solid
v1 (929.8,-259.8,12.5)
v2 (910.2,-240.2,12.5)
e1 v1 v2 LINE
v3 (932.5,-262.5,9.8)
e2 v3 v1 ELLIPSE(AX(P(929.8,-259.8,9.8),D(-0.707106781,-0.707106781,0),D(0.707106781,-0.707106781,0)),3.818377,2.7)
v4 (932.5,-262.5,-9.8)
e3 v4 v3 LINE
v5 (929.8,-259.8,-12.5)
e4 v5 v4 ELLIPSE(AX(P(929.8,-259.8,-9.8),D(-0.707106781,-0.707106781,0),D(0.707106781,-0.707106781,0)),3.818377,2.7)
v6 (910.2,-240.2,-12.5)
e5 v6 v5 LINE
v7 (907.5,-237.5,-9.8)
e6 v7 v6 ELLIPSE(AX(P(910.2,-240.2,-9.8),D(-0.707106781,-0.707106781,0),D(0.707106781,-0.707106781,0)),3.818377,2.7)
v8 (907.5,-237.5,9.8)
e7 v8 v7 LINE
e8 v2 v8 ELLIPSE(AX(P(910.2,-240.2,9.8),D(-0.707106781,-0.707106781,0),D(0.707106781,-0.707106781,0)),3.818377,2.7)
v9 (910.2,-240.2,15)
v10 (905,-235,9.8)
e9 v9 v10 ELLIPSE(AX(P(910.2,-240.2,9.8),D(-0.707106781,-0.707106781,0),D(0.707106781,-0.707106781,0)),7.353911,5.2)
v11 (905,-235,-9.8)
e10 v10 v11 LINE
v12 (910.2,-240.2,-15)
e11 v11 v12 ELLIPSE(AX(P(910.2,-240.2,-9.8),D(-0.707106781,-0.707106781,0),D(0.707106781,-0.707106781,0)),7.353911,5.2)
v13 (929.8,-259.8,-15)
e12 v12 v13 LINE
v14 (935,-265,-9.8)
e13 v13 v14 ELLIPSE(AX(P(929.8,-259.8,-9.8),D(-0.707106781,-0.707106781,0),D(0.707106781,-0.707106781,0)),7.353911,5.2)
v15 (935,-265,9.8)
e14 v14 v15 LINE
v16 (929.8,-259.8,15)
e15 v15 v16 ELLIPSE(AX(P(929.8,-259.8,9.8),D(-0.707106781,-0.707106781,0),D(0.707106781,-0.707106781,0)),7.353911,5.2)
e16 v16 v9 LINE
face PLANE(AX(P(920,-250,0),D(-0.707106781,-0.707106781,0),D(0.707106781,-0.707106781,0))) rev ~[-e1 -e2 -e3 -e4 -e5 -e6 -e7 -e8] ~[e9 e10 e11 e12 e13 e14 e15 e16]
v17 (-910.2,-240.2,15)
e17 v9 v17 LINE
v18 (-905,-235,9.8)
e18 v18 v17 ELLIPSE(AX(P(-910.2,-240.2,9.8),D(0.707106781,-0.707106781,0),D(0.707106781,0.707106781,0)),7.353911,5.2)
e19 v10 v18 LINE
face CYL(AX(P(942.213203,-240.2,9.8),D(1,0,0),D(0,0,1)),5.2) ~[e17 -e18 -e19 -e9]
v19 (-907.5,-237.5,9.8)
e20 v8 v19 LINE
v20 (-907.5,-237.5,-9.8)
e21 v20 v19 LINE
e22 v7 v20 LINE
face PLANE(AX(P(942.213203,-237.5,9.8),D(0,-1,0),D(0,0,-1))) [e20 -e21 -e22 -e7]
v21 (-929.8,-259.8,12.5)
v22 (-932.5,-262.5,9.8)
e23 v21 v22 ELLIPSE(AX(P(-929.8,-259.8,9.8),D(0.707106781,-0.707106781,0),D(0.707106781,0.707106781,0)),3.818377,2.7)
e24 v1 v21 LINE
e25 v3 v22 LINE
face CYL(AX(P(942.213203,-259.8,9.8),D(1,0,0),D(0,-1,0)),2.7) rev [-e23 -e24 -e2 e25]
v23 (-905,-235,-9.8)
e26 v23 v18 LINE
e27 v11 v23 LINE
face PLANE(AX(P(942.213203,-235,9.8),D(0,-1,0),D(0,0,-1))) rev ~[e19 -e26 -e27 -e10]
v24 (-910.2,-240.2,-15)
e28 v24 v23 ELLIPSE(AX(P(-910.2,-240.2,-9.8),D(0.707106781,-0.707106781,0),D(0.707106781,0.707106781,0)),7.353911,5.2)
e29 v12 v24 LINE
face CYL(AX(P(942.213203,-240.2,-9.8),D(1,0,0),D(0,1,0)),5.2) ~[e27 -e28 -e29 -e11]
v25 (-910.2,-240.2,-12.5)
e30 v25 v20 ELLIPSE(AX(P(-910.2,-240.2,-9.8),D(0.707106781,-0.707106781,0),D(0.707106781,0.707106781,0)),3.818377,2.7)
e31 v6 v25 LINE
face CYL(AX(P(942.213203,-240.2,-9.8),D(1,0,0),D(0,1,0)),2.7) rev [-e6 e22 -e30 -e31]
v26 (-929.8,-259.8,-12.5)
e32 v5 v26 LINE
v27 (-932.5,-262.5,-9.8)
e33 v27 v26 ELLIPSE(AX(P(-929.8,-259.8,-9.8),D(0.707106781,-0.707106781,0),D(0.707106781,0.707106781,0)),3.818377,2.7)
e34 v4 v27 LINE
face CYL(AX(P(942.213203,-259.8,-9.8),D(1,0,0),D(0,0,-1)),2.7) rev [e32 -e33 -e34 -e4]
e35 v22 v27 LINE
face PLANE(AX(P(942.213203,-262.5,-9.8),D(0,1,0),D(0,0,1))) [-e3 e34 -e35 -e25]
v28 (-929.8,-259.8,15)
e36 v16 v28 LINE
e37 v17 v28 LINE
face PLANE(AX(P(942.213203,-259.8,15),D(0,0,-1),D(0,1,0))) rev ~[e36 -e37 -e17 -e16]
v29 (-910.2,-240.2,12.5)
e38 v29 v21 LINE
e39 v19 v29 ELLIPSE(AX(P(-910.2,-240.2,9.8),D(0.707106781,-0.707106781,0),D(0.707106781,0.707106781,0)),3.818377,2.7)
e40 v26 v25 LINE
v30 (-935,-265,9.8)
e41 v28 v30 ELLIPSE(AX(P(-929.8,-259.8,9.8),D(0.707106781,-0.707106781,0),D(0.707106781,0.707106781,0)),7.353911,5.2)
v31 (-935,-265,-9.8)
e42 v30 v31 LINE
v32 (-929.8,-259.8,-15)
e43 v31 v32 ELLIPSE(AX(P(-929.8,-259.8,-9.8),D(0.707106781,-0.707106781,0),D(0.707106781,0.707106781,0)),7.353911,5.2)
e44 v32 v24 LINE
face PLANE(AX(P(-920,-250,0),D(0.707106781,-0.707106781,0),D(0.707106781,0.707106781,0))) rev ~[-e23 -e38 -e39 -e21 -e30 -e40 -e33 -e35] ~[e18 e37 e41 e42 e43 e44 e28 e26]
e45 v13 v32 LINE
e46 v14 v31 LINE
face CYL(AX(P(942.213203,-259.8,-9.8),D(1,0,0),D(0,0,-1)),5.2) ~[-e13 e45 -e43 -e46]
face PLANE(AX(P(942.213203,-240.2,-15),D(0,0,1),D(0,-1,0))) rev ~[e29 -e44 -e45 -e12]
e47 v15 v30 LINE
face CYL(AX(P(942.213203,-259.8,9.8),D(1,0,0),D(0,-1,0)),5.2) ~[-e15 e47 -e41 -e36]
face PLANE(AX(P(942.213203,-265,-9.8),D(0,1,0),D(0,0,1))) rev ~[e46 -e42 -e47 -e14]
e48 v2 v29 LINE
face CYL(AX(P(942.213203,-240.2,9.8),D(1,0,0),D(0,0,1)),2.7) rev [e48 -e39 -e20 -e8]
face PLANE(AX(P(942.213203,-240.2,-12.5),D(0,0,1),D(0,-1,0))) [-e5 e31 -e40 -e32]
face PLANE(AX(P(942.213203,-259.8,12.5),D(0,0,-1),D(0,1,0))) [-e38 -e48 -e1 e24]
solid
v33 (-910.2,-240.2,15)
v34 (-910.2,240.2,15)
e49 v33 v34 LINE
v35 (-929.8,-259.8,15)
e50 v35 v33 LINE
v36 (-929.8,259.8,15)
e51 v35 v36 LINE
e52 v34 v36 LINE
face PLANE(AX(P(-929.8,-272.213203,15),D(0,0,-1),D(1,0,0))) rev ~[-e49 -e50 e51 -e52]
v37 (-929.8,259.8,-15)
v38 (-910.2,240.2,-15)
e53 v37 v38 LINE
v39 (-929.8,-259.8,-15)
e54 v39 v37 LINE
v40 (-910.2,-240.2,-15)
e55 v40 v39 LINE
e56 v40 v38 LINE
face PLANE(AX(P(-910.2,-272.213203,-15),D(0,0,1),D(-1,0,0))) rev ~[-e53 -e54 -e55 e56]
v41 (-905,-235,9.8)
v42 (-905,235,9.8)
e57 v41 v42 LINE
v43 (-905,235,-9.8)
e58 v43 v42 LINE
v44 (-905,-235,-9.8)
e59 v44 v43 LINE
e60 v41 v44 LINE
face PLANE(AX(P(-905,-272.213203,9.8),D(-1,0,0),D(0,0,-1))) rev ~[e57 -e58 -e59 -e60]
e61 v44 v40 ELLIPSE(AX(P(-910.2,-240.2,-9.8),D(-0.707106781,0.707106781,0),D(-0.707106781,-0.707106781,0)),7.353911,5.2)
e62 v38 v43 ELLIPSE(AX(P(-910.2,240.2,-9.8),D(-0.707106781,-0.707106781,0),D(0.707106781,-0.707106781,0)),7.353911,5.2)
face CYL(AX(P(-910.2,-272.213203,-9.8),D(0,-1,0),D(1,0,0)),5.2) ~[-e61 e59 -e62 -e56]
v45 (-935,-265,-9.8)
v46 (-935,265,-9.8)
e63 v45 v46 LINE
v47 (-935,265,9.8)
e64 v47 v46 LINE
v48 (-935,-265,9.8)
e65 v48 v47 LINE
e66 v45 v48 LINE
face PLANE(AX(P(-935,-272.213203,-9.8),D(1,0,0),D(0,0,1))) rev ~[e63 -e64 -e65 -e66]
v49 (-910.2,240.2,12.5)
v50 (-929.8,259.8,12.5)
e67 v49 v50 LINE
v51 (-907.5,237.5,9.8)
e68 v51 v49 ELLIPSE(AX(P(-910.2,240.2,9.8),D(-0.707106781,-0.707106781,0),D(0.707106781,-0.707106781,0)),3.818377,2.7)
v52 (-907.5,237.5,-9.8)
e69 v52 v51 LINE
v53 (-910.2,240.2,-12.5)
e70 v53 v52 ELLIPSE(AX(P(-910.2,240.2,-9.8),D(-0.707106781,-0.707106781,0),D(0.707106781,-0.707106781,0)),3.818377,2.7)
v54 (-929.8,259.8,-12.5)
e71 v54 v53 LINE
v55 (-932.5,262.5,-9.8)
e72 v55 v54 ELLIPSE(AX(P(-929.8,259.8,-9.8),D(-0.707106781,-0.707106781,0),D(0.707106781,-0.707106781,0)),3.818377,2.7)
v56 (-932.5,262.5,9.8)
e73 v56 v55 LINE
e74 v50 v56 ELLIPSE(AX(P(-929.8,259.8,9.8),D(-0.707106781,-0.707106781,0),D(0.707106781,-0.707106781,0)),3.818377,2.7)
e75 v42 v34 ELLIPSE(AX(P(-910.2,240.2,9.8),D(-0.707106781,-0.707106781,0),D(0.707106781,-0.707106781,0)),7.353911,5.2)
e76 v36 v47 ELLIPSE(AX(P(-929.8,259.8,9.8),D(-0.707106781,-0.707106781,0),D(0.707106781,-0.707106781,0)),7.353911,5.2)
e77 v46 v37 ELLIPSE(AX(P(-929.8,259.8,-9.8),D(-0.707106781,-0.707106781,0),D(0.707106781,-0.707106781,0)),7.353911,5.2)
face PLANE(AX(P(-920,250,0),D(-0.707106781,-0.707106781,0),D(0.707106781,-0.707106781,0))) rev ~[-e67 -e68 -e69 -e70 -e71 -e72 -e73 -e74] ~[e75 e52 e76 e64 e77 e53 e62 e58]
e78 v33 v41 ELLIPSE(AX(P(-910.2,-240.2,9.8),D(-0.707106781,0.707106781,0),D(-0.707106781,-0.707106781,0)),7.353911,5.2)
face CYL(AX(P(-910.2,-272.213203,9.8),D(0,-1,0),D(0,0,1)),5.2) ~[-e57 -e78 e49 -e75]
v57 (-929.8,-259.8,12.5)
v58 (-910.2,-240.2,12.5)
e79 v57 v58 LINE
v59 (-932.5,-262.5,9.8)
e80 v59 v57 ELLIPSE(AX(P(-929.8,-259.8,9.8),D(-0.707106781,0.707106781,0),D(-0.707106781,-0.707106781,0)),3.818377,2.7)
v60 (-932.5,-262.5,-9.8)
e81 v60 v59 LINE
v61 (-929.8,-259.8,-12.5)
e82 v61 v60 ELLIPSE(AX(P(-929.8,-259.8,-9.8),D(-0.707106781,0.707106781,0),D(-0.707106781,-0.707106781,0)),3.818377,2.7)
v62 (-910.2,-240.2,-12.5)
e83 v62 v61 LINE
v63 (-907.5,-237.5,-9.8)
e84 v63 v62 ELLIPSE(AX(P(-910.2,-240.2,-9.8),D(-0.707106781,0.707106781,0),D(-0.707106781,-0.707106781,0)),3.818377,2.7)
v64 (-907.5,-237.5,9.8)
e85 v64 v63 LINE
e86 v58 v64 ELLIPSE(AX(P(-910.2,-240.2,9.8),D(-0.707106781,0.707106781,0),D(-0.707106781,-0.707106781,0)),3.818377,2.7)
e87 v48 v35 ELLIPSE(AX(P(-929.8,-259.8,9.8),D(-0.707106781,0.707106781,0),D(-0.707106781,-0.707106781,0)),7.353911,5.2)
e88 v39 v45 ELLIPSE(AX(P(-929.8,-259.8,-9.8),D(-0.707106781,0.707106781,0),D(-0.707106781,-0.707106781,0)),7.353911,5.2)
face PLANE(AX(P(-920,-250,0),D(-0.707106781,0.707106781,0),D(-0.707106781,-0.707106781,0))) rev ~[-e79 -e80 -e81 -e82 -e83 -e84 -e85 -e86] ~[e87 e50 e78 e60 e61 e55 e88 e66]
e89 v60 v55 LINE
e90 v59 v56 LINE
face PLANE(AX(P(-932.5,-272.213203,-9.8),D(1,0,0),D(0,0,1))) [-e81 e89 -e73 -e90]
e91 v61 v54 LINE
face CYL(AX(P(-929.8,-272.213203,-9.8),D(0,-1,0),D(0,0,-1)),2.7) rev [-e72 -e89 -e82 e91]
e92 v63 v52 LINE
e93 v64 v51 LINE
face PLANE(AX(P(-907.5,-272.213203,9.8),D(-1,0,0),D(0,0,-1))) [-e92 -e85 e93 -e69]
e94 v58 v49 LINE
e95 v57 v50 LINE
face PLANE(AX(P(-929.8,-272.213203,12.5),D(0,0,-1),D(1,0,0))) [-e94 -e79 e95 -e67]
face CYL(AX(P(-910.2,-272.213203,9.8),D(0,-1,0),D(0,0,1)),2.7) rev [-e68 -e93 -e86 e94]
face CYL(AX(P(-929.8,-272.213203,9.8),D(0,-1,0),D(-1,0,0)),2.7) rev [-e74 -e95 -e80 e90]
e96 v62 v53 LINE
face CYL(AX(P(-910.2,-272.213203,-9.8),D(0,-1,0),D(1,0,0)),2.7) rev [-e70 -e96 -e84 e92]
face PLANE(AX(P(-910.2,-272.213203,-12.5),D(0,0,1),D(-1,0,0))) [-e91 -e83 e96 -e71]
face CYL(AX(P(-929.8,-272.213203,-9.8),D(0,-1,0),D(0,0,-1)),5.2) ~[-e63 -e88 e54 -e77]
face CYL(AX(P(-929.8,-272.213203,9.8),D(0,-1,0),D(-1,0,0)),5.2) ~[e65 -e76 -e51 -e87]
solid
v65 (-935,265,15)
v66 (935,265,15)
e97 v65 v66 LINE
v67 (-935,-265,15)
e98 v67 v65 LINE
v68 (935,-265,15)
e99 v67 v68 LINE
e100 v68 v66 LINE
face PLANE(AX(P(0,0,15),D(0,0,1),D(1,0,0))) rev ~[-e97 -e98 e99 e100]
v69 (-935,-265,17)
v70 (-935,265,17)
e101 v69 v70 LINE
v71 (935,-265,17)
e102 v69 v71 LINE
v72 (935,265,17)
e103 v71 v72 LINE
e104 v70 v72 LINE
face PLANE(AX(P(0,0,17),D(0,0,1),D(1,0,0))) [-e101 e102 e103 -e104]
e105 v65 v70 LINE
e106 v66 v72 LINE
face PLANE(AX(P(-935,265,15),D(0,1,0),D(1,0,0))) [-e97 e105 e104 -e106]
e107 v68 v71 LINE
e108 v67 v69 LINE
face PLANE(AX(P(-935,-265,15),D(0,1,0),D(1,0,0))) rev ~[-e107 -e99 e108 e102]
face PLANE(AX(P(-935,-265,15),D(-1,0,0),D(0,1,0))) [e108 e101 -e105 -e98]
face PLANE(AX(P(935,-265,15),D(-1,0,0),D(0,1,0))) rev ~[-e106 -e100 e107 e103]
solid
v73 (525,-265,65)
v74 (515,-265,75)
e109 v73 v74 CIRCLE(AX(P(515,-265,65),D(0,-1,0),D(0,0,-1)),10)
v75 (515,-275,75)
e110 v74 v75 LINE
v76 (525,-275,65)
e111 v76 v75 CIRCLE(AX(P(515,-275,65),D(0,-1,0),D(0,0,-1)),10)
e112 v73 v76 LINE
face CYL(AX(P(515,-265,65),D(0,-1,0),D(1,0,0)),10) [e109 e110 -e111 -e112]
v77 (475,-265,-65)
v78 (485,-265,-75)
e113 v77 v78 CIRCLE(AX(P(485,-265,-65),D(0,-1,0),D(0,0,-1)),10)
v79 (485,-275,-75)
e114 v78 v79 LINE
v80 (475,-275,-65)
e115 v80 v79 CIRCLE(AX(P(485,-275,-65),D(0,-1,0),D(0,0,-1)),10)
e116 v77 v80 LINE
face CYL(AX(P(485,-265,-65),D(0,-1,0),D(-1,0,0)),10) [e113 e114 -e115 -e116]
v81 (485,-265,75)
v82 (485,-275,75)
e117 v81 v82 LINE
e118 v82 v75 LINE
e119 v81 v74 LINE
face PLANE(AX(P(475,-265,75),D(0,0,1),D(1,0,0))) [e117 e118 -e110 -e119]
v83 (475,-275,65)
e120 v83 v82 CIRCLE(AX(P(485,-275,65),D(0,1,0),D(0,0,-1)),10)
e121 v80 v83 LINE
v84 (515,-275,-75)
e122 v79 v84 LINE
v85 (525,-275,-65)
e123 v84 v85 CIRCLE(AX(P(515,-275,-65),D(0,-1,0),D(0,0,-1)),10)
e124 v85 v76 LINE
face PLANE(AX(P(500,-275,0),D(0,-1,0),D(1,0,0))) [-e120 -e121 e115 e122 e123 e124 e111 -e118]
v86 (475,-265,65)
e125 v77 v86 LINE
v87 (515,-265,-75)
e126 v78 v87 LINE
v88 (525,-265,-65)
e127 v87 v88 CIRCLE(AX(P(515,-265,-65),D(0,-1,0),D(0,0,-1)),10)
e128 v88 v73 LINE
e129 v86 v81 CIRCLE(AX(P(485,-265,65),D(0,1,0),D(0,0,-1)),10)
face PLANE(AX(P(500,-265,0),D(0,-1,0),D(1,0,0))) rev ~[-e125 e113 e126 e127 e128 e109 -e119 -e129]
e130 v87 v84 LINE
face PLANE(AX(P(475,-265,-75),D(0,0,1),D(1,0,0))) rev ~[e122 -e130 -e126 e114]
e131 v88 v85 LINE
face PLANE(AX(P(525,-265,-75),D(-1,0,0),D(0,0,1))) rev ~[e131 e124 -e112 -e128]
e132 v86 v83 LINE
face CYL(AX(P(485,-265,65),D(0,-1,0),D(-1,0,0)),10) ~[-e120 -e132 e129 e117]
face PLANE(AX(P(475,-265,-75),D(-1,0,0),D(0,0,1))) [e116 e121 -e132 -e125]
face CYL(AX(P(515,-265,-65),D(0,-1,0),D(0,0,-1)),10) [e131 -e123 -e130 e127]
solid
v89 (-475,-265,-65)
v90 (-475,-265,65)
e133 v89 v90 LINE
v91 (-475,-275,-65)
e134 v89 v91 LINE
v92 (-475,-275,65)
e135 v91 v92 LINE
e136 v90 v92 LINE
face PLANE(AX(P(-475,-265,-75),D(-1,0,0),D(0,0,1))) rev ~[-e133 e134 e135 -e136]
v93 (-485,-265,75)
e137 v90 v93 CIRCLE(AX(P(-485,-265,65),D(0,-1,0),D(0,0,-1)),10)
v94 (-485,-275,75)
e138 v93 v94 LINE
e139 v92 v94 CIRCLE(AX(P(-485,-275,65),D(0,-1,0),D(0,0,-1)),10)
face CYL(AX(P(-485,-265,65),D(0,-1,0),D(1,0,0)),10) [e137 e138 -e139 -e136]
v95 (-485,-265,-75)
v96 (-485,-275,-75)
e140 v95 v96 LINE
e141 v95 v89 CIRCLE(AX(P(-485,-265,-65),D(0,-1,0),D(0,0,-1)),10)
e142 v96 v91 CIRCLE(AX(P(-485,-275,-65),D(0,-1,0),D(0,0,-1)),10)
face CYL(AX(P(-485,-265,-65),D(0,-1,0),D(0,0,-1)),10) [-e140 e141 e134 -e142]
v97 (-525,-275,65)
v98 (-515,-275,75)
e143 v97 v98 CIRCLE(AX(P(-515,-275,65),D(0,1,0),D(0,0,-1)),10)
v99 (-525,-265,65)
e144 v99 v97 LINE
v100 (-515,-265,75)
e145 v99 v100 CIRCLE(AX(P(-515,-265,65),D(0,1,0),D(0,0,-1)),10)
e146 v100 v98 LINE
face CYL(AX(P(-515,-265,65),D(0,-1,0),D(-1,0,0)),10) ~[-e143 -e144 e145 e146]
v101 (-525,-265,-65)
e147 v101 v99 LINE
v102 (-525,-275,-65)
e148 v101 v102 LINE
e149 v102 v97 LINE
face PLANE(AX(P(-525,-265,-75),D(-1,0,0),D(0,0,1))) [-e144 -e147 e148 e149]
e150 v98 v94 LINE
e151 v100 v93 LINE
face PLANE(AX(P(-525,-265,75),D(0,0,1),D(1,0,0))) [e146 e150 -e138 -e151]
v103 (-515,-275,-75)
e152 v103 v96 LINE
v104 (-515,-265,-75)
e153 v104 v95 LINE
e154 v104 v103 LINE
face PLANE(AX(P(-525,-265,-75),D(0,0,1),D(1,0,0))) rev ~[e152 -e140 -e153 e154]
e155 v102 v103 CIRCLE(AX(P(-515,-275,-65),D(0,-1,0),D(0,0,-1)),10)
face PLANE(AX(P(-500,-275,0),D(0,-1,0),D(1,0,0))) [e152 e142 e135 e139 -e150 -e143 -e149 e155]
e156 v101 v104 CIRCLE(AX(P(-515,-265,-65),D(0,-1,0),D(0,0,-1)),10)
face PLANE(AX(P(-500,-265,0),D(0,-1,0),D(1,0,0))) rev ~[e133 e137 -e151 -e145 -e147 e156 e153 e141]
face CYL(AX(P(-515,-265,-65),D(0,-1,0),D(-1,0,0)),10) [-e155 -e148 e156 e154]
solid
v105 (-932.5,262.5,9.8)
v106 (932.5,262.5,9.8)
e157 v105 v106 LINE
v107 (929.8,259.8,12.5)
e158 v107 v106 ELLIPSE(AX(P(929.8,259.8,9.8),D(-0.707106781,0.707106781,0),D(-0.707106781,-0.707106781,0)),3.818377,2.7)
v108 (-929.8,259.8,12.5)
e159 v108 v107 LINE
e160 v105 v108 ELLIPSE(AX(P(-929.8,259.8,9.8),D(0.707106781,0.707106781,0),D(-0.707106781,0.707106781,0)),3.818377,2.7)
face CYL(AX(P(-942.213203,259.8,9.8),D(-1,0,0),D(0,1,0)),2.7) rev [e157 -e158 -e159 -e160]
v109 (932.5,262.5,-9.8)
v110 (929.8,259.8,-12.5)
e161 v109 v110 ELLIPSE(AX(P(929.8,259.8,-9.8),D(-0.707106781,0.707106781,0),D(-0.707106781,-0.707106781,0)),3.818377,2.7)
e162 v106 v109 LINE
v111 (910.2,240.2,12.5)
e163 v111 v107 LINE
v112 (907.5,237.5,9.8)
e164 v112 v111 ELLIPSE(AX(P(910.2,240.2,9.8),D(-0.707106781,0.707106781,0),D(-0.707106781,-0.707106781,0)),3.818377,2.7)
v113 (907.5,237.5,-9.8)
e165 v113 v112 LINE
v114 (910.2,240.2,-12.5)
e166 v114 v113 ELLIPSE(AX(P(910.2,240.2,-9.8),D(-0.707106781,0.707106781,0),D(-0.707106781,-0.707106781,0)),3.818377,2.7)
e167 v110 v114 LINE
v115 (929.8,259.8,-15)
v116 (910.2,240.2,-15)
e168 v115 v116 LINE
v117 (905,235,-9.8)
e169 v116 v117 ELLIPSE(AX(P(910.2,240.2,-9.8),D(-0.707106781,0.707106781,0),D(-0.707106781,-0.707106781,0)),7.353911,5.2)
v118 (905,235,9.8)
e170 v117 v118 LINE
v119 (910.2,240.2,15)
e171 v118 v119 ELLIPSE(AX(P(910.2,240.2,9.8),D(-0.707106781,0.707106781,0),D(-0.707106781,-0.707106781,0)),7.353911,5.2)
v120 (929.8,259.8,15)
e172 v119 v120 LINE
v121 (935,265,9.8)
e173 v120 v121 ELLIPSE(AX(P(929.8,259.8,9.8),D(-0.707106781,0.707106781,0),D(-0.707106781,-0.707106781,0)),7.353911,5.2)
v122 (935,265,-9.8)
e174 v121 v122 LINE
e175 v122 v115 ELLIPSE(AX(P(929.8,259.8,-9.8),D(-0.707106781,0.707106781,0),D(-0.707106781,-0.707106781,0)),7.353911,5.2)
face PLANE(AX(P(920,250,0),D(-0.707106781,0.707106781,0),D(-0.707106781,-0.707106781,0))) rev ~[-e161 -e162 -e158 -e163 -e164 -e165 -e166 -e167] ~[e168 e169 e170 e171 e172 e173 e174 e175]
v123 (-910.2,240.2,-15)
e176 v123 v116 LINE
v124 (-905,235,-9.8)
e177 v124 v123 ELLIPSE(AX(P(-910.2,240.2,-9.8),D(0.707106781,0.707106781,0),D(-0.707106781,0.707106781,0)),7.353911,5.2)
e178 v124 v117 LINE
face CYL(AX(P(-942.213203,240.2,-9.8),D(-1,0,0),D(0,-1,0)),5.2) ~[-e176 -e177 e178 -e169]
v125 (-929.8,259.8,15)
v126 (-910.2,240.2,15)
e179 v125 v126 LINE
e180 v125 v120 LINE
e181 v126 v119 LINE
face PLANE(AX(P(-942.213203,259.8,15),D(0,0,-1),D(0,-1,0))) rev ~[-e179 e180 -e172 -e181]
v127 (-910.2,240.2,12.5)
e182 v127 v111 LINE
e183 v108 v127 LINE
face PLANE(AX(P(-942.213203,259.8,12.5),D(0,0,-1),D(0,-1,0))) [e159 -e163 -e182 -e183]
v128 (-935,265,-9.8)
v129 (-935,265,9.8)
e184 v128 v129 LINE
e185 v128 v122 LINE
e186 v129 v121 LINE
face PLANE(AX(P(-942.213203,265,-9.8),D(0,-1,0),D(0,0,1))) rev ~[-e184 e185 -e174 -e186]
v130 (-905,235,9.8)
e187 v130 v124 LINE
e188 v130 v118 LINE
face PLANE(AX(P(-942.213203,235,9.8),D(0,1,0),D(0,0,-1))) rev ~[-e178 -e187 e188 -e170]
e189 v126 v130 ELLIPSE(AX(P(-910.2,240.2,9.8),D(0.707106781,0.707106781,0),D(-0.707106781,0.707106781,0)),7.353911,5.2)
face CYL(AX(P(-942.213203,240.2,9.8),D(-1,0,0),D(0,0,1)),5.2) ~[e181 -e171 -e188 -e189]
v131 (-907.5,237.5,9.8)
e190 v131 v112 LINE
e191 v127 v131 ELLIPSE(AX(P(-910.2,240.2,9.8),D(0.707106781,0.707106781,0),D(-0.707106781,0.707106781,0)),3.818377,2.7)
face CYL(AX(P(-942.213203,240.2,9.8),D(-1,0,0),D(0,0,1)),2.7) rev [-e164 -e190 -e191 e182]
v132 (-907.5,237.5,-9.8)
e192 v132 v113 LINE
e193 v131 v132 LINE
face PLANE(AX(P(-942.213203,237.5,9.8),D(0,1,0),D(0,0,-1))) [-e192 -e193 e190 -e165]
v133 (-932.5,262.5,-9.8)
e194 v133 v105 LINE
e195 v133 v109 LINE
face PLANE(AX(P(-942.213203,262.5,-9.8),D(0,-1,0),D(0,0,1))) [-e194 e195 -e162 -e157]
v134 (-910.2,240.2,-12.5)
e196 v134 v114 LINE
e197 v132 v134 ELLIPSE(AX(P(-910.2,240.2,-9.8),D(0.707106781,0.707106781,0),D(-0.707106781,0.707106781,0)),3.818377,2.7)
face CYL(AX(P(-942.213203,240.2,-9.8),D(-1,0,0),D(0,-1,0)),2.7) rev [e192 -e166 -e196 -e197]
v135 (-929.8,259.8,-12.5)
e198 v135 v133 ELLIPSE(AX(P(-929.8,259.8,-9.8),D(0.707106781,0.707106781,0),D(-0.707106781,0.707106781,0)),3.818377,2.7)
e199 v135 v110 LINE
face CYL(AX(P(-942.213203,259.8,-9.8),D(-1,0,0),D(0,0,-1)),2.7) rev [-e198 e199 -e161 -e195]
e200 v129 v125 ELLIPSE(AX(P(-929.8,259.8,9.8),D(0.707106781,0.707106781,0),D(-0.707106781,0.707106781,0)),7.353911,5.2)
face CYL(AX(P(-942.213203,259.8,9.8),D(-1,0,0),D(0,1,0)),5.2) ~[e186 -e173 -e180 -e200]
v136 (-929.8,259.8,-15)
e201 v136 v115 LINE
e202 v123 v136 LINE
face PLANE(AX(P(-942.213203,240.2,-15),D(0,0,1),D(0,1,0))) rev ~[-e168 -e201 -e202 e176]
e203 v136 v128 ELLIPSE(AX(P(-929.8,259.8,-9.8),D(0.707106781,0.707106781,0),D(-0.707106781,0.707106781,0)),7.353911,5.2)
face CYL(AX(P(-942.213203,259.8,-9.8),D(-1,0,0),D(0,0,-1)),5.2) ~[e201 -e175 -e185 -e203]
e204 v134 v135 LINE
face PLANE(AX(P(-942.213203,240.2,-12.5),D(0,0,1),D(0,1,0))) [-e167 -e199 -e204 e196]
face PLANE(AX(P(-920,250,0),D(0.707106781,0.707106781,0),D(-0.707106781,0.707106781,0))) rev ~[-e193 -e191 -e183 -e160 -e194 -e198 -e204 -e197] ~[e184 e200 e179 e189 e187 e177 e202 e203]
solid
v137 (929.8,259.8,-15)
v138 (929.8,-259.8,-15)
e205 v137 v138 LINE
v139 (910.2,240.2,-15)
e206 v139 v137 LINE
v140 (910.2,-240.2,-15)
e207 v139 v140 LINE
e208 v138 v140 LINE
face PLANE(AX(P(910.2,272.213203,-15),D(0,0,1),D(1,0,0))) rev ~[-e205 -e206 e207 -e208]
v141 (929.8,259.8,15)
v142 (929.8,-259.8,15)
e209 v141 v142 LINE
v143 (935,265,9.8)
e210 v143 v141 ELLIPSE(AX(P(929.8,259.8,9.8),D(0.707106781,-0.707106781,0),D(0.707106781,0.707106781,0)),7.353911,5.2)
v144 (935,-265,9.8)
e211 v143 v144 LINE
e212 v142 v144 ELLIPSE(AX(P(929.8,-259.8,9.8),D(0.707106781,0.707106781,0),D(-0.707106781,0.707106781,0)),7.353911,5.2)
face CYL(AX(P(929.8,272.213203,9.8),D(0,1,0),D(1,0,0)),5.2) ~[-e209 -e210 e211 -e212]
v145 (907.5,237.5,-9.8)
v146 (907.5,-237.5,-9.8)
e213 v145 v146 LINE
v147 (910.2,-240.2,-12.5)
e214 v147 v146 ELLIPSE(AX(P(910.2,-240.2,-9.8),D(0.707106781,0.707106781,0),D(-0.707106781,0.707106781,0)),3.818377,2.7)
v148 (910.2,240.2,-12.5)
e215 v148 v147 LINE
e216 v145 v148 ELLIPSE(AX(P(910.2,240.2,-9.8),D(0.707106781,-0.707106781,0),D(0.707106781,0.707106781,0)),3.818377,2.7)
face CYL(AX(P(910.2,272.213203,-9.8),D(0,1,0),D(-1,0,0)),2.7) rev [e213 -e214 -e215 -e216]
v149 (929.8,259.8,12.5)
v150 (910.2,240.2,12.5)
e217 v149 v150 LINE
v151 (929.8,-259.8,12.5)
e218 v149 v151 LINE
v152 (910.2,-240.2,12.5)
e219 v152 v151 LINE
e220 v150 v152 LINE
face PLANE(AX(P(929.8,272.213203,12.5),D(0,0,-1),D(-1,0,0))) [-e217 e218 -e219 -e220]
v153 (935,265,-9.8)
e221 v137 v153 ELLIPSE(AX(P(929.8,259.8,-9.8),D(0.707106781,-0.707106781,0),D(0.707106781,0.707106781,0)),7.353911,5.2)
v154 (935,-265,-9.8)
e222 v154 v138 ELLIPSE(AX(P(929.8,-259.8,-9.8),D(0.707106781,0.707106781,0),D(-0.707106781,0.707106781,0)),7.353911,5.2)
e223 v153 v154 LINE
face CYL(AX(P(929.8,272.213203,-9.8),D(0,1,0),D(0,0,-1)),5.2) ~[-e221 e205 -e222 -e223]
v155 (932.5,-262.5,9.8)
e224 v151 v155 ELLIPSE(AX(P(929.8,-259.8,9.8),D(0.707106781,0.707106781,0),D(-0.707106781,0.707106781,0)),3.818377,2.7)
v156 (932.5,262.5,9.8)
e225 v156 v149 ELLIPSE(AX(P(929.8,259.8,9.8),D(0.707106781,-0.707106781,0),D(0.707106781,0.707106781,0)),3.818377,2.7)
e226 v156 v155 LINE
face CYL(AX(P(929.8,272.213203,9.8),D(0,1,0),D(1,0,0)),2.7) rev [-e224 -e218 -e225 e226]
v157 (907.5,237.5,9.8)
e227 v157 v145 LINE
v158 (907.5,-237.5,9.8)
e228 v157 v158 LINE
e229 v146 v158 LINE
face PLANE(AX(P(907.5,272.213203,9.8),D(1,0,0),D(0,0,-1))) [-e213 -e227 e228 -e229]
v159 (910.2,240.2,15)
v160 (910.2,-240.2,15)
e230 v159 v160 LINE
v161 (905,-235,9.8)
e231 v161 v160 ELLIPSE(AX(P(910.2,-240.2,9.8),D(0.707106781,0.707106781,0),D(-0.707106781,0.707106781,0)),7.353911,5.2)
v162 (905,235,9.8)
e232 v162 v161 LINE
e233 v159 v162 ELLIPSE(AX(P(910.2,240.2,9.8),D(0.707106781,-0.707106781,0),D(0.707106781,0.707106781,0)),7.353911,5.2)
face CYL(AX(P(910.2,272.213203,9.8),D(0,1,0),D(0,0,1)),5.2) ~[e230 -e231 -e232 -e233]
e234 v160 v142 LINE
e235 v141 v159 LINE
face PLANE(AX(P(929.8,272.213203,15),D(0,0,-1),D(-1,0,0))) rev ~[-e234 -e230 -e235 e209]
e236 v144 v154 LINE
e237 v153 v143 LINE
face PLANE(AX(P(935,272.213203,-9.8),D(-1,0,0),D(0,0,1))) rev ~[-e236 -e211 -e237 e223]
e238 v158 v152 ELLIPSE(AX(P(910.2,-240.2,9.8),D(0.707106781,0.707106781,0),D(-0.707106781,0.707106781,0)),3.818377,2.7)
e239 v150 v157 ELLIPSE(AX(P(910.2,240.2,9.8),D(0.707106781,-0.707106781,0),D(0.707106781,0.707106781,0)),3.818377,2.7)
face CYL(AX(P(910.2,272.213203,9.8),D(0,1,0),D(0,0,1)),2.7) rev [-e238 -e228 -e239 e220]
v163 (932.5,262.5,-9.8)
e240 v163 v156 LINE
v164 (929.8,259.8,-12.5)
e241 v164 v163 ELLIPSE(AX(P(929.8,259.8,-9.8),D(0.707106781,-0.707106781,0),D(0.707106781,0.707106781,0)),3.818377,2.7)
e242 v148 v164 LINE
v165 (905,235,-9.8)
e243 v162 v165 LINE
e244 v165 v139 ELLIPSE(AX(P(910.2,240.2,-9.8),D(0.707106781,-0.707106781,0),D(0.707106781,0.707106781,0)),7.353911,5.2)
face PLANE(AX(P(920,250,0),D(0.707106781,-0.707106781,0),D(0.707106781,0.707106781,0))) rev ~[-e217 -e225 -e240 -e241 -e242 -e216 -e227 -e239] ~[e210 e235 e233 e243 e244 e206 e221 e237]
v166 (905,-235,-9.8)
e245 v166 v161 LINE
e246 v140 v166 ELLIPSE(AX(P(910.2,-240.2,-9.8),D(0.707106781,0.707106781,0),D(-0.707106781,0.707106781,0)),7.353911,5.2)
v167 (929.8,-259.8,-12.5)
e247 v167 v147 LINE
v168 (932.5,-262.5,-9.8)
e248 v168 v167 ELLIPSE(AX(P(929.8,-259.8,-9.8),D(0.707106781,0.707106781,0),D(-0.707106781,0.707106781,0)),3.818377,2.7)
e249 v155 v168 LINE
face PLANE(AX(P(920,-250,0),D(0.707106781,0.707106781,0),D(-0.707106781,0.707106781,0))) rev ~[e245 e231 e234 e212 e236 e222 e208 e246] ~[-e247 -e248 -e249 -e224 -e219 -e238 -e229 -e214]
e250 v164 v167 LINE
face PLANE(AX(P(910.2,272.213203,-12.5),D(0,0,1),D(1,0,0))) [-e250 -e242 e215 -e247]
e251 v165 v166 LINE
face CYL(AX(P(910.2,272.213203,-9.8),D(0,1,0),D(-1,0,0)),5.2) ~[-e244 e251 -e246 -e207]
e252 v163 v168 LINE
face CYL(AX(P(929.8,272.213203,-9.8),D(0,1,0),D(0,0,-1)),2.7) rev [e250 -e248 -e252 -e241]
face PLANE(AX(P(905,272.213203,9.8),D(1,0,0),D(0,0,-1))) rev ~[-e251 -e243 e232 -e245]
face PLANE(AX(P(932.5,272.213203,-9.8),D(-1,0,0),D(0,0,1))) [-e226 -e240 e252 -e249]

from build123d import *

# Parameters (mm, degrees)
MEMBER_1_DEPTH         = 522.213203436
MEMBER_1_DEPTH_BACK    = 22.213203436
MEMBER_1_2_DEPTH       = 1884.426406871
MEMBER_1_3_DEPTH       = 544.426406871
MEMBER_1_4_DEPTH       = 1884.426406871
SKETCH_3_W             = 1870
SKETCH_3_H             = 530
EXTRUDE_1_DEPTH        = 2
SKETCH_4_W             = 50
SKETCH_4_H             = 150
EXTRUDE_2_DEPTH        = 10
PATTERN_LINEAR_1_COUNT = 2
PATTERN_LINEAR_1_PITCH = 1000
FILLET_1_R             = 10
FILLET_2_R             = 10


with BuildPart() as part:
    # Sketch1 → Member 1 (new, two sides: drawn at the far end of the back side and taken through both)
    with BuildSketch(Plane(origin=(-920, -250, 0), x_dir=(-1, 0, 0), z_dir=(0, 1, 0)).offset(-MEMBER_1_DEPTH_BACK)):
        with BuildLine():
            Line((-9.8, -15), (9.8, -15))
            ThreePointArc((9.8, -15), (13.476955262, -13.476955262), (15, -9.8))
            Line((15, -9.8), (15, 9.8))
            ThreePointArc((15, 9.8), (13.476955262, 13.476955262), (9.8, 15))
            Line((9.8, 15), (-9.8, 15))
            ThreePointArc((-9.8, 15), (-13.476955262, 13.476955262), (-15, 9.8))
            Line((-15, 9.8), (-15, -9.8))
            ThreePointArc((-15, -9.8), (-13.476955262, -13.476955262), (-9.8, -15))
        make_face()
        with BuildLine():
            Line((-9.8, -12.5), (9.8, -12.5))
            ThreePointArc((9.8, -12.5), (11.709188309, -11.709188309), (12.5, -9.8))
            Line((12.5, -9.8), (12.5, 9.8))
            ThreePointArc((12.5, 9.8), (11.709188309, 11.709188309), (9.8, 12.5))
            Line((9.8, 12.5), (-9.8, 12.5))
            ThreePointArc((-9.8, 12.5), (-11.709188309, 11.709188309), (-12.5, 9.8))
            Line((-12.5, 9.8), (-12.5, -9.8))
            ThreePointArc((-12.5, -9.8), (-11.709188309, -11.709188309), (-9.8, -12.5))
        make_face(mode=Mode.SUBTRACT)
    extrude(amount=MEMBER_1_DEPTH + MEMBER_1_DEPTH_BACK)

    # Member 1 mitre 1
    split(bisect_by=Plane(origin=(-920, -250, 0), x_dir=(-0.707106781, -0.707106781, 0), z_dir=(-0.707106781, 0.707106781, 0)), keep=Keep.TOP)

    # Member 1 mitre 2
    split(bisect_by=Plane(origin=(-920, 250, 0), x_dir=(0.707106781, -0.707106781, 0), z_dir=(-0.707106781, -0.707106781, 0)), keep=Keep.TOP)


with BuildPart() as body_2:
    # Sketch1 on segment 2 (carried to segment 2) → Member 1 2 (new body)
    with BuildSketch(Plane(origin=(-942.213203436, 250, 0), x_dir=(0, 1, 0), z_dir=(1, 0, 0))):
        with BuildLine():
            Line((-9.8, -15), (9.8, -15))
            ThreePointArc((9.8, -15), (13.476955262, -13.476955262), (15, -9.8))
            Line((15, -9.8), (15, 9.8))
            ThreePointArc((15, 9.8), (13.476955262, 13.476955262), (9.8, 15))
            Line((9.8, 15), (-9.8, 15))
            ThreePointArc((-9.8, 15), (-13.476955262, 13.476955262), (-15, 9.8))
            Line((-15, 9.8), (-15, -9.8))
            ThreePointArc((-15, -9.8), (-13.476955262, -13.476955262), (-9.8, -15))
        make_face()
        with BuildLine():
            Line((-9.8, -12.5), (9.8, -12.5))
            ThreePointArc((9.8, -12.5), (11.709188309, -11.709188309), (12.5, -9.8))
            Line((12.5, -9.8), (12.5, 9.8))
            ThreePointArc((12.5, 9.8), (11.709188309, 11.709188309), (9.8, 12.5))
            Line((9.8, 12.5), (-9.8, 12.5))
            ThreePointArc((-9.8, 12.5), (-11.709188309, 11.709188309), (-12.5, 9.8))
            Line((-12.5, 9.8), (-12.5, -9.8))
            ThreePointArc((-12.5, -9.8), (-11.709188309, -11.709188309), (-9.8, -12.5))
        make_face(mode=Mode.SUBTRACT)
    extrude(amount=MEMBER_1_2_DEPTH)

    # Member 1 2 mitre 1
    split(bisect_by=Plane(origin=(920, 250, 0), x_dir=(-0.707106781, -0.707106781, 0), z_dir=(-0.707106781, 0.707106781, 0)), keep=Keep.TOP)

    # Member 1 2 mitre 2
    split(bisect_by=Plane(origin=(-920, 250, 0), x_dir=(-0.707106781, 0.707106781, 0), z_dir=(0.707106781, 0.707106781, 0)), keep=Keep.TOP)


with BuildPart() as body_3:
    # Sketch1 on segment 3 (carried to segment 3) → Member 1 3 (new body)
    with BuildSketch(Plane(origin=(920, 272.213203436, 0), x_dir=(1, 0, 0), z_dir=(0, -1, 0))):
        with BuildLine():
            Line((-9.8, -15), (9.8, -15))
            ThreePointArc((9.8, -15), (13.476955262, -13.476955262), (15, -9.8))
            Line((15, -9.8), (15, 9.8))
            ThreePointArc((15, 9.8), (13.476955262, 13.476955262), (9.8, 15))
            Line((9.8, 15), (-9.8, 15))
            ThreePointArc((-9.8, 15), (-13.476955262, 13.476955262), (-15, 9.8))
            Line((-15, 9.8), (-15, -9.8))
            ThreePointArc((-15, -9.8), (-13.476955262, -13.476955262), (-9.8, -15))
        make_face()
        with BuildLine():
            Line((-9.8, -12.5), (9.8, -12.5))
            ThreePointArc((9.8, -12.5), (11.709188309, -11.709188309), (12.5, -9.8))
            Line((12.5, -9.8), (12.5, 9.8))
            ThreePointArc((12.5, 9.8), (11.709188309, 11.709188309), (9.8, 12.5))
            Line((9.8, 12.5), (-9.8, 12.5))
            ThreePointArc((-9.8, 12.5), (-11.709188309, 11.709188309), (-12.5, 9.8))
            Line((-12.5, 9.8), (-12.5, -9.8))
            ThreePointArc((-12.5, -9.8), (-11.709188309, -11.709188309), (-9.8, -12.5))
        make_face(mode=Mode.SUBTRACT)
    extrude(amount=MEMBER_1_3_DEPTH)

    # Member 1 3 mitre 1
    split(bisect_by=Plane(origin=(920, -250, 0), x_dir=(-0.707106781, 0.707106781, 0), z_dir=(0.707106781, 0.707106781, 0)), keep=Keep.TOP)

    # Member 1 3 mitre 2
    split(bisect_by=Plane(origin=(920, 250, 0), x_dir=(0.707106781, 0.707106781, 0), z_dir=(0.707106781, -0.707106781, 0)), keep=Keep.TOP)


with BuildPart() as body_4:
    # Sketch1 on segment 4 (carried to segment 4) → Member 1 4 (new body)
    with BuildSketch(Plane(origin=(942.213203436, -250, 0), x_dir=(0, -1, 0), z_dir=(-1, 0, 0))):
        with BuildLine():
            Line((-9.8, -15), (9.8, -15))
            ThreePointArc((9.8, -15), (13.476955262, -13.476955262), (15, -9.8))
            Line((15, -9.8), (15, 9.8))
            ThreePointArc((15, 9.8), (13.476955262, 13.476955262), (9.8, 15))
            Line((9.8, 15), (-9.8, 15))
            ThreePointArc((-9.8, 15), (-13.476955262, 13.476955262), (-15, 9.8))
            Line((-15, 9.8), (-15, -9.8))
            ThreePointArc((-15, -9.8), (-13.476955262, -13.476955262), (-9.8, -15))
        make_face()
        with BuildLine():
            Line((-9.8, -12.5), (9.8, -12.5))
            ThreePointArc((9.8, -12.5), (11.709188309, -11.709188309), (12.5, -9.8))
            Line((12.5, -9.8), (12.5, 9.8))
            ThreePointArc((12.5, 9.8), (11.709188309, 11.709188309), (9.8, 12.5))
            Line((9.8, 12.5), (-9.8, 12.5))
            ThreePointArc((-9.8, 12.5), (-11.709188309, 11.709188309), (-12.5, 9.8))
            Line((-12.5, 9.8), (-12.5, -9.8))
            ThreePointArc((-12.5, -9.8), (-11.709188309, -11.709188309), (-9.8, -12.5))
        make_face(mode=Mode.SUBTRACT)
    extrude(amount=MEMBER_1_4_DEPTH)

    # Member 1 4 mitre 1
    split(bisect_by=Plane(origin=(920, -250, 0), x_dir=(0.707106781, -0.707106781, 0), z_dir=(-0.707106781, -0.707106781, 0)), keep=Keep.TOP)

    # Member 1 4 mitre 2
    split(bisect_by=Plane(origin=(-920, -250, 0), x_dir=(0.707106781, 0.707106781, 0), z_dir=(0.707106781, -0.707106781, 0)), keep=Keep.TOP)


with BuildPart() as body_5:
    # 草图3 → 凸台-拉伸1 (new body)
    with BuildSketch(Plane.XY.offset(15)):
        Rectangle(SKETCH_3_W, SKETCH_3_H)
    extrude(amount=EXTRUDE_1_DEPTH)


with BuildPart() as body_6:
    # 草图4 → 凸台-拉伸2 (new body)
    with BuildSketch(Plane.XZ.offset(265)):
        with Locations((-500, 0)):
            Rectangle(SKETCH_4_W, SKETCH_4_H)
    extrude_2 = extrude(amount=EXTRUDE_2_DEPTH)

    # 圆角1
    fillet_1_edges = [body_6.edges().sort_by_distance(p)[0] for p in [
        (-525, -270, 75),
        (-475, -270, 75),
        (-475, -270, -75),
        (-525, -270, -75),
    ]]
    fillet(fillet_1_edges, radius=FILLET_1_R)


with BuildPart() as pattern_linear_1_1:
    # 阵列(线性)1: 凸台-拉伸2 ×2
    with Locations(*[(i * PATTERN_LINEAR_1_PITCH, 0, 0) for i in range(1, PATTERN_LINEAR_1_COUNT)]):
        add(extrude_2)

    # 圆角2
    fillet_2_edges = [pattern_linear_1_1.edges().sort_by_distance(p)[0] for p in [
        (475, -270, 75),
        (525, -270, 75),
        (525, -270, -75),
        (475, -270, -75),
    ]]
    fillet(fillet_2_edges, radius=FILLET_2_R)


solid = Compound([part.part, body_2.part, body_3.part, body_4.part, body_5.part, body_6.part, pattern_linear_1_1.part])
